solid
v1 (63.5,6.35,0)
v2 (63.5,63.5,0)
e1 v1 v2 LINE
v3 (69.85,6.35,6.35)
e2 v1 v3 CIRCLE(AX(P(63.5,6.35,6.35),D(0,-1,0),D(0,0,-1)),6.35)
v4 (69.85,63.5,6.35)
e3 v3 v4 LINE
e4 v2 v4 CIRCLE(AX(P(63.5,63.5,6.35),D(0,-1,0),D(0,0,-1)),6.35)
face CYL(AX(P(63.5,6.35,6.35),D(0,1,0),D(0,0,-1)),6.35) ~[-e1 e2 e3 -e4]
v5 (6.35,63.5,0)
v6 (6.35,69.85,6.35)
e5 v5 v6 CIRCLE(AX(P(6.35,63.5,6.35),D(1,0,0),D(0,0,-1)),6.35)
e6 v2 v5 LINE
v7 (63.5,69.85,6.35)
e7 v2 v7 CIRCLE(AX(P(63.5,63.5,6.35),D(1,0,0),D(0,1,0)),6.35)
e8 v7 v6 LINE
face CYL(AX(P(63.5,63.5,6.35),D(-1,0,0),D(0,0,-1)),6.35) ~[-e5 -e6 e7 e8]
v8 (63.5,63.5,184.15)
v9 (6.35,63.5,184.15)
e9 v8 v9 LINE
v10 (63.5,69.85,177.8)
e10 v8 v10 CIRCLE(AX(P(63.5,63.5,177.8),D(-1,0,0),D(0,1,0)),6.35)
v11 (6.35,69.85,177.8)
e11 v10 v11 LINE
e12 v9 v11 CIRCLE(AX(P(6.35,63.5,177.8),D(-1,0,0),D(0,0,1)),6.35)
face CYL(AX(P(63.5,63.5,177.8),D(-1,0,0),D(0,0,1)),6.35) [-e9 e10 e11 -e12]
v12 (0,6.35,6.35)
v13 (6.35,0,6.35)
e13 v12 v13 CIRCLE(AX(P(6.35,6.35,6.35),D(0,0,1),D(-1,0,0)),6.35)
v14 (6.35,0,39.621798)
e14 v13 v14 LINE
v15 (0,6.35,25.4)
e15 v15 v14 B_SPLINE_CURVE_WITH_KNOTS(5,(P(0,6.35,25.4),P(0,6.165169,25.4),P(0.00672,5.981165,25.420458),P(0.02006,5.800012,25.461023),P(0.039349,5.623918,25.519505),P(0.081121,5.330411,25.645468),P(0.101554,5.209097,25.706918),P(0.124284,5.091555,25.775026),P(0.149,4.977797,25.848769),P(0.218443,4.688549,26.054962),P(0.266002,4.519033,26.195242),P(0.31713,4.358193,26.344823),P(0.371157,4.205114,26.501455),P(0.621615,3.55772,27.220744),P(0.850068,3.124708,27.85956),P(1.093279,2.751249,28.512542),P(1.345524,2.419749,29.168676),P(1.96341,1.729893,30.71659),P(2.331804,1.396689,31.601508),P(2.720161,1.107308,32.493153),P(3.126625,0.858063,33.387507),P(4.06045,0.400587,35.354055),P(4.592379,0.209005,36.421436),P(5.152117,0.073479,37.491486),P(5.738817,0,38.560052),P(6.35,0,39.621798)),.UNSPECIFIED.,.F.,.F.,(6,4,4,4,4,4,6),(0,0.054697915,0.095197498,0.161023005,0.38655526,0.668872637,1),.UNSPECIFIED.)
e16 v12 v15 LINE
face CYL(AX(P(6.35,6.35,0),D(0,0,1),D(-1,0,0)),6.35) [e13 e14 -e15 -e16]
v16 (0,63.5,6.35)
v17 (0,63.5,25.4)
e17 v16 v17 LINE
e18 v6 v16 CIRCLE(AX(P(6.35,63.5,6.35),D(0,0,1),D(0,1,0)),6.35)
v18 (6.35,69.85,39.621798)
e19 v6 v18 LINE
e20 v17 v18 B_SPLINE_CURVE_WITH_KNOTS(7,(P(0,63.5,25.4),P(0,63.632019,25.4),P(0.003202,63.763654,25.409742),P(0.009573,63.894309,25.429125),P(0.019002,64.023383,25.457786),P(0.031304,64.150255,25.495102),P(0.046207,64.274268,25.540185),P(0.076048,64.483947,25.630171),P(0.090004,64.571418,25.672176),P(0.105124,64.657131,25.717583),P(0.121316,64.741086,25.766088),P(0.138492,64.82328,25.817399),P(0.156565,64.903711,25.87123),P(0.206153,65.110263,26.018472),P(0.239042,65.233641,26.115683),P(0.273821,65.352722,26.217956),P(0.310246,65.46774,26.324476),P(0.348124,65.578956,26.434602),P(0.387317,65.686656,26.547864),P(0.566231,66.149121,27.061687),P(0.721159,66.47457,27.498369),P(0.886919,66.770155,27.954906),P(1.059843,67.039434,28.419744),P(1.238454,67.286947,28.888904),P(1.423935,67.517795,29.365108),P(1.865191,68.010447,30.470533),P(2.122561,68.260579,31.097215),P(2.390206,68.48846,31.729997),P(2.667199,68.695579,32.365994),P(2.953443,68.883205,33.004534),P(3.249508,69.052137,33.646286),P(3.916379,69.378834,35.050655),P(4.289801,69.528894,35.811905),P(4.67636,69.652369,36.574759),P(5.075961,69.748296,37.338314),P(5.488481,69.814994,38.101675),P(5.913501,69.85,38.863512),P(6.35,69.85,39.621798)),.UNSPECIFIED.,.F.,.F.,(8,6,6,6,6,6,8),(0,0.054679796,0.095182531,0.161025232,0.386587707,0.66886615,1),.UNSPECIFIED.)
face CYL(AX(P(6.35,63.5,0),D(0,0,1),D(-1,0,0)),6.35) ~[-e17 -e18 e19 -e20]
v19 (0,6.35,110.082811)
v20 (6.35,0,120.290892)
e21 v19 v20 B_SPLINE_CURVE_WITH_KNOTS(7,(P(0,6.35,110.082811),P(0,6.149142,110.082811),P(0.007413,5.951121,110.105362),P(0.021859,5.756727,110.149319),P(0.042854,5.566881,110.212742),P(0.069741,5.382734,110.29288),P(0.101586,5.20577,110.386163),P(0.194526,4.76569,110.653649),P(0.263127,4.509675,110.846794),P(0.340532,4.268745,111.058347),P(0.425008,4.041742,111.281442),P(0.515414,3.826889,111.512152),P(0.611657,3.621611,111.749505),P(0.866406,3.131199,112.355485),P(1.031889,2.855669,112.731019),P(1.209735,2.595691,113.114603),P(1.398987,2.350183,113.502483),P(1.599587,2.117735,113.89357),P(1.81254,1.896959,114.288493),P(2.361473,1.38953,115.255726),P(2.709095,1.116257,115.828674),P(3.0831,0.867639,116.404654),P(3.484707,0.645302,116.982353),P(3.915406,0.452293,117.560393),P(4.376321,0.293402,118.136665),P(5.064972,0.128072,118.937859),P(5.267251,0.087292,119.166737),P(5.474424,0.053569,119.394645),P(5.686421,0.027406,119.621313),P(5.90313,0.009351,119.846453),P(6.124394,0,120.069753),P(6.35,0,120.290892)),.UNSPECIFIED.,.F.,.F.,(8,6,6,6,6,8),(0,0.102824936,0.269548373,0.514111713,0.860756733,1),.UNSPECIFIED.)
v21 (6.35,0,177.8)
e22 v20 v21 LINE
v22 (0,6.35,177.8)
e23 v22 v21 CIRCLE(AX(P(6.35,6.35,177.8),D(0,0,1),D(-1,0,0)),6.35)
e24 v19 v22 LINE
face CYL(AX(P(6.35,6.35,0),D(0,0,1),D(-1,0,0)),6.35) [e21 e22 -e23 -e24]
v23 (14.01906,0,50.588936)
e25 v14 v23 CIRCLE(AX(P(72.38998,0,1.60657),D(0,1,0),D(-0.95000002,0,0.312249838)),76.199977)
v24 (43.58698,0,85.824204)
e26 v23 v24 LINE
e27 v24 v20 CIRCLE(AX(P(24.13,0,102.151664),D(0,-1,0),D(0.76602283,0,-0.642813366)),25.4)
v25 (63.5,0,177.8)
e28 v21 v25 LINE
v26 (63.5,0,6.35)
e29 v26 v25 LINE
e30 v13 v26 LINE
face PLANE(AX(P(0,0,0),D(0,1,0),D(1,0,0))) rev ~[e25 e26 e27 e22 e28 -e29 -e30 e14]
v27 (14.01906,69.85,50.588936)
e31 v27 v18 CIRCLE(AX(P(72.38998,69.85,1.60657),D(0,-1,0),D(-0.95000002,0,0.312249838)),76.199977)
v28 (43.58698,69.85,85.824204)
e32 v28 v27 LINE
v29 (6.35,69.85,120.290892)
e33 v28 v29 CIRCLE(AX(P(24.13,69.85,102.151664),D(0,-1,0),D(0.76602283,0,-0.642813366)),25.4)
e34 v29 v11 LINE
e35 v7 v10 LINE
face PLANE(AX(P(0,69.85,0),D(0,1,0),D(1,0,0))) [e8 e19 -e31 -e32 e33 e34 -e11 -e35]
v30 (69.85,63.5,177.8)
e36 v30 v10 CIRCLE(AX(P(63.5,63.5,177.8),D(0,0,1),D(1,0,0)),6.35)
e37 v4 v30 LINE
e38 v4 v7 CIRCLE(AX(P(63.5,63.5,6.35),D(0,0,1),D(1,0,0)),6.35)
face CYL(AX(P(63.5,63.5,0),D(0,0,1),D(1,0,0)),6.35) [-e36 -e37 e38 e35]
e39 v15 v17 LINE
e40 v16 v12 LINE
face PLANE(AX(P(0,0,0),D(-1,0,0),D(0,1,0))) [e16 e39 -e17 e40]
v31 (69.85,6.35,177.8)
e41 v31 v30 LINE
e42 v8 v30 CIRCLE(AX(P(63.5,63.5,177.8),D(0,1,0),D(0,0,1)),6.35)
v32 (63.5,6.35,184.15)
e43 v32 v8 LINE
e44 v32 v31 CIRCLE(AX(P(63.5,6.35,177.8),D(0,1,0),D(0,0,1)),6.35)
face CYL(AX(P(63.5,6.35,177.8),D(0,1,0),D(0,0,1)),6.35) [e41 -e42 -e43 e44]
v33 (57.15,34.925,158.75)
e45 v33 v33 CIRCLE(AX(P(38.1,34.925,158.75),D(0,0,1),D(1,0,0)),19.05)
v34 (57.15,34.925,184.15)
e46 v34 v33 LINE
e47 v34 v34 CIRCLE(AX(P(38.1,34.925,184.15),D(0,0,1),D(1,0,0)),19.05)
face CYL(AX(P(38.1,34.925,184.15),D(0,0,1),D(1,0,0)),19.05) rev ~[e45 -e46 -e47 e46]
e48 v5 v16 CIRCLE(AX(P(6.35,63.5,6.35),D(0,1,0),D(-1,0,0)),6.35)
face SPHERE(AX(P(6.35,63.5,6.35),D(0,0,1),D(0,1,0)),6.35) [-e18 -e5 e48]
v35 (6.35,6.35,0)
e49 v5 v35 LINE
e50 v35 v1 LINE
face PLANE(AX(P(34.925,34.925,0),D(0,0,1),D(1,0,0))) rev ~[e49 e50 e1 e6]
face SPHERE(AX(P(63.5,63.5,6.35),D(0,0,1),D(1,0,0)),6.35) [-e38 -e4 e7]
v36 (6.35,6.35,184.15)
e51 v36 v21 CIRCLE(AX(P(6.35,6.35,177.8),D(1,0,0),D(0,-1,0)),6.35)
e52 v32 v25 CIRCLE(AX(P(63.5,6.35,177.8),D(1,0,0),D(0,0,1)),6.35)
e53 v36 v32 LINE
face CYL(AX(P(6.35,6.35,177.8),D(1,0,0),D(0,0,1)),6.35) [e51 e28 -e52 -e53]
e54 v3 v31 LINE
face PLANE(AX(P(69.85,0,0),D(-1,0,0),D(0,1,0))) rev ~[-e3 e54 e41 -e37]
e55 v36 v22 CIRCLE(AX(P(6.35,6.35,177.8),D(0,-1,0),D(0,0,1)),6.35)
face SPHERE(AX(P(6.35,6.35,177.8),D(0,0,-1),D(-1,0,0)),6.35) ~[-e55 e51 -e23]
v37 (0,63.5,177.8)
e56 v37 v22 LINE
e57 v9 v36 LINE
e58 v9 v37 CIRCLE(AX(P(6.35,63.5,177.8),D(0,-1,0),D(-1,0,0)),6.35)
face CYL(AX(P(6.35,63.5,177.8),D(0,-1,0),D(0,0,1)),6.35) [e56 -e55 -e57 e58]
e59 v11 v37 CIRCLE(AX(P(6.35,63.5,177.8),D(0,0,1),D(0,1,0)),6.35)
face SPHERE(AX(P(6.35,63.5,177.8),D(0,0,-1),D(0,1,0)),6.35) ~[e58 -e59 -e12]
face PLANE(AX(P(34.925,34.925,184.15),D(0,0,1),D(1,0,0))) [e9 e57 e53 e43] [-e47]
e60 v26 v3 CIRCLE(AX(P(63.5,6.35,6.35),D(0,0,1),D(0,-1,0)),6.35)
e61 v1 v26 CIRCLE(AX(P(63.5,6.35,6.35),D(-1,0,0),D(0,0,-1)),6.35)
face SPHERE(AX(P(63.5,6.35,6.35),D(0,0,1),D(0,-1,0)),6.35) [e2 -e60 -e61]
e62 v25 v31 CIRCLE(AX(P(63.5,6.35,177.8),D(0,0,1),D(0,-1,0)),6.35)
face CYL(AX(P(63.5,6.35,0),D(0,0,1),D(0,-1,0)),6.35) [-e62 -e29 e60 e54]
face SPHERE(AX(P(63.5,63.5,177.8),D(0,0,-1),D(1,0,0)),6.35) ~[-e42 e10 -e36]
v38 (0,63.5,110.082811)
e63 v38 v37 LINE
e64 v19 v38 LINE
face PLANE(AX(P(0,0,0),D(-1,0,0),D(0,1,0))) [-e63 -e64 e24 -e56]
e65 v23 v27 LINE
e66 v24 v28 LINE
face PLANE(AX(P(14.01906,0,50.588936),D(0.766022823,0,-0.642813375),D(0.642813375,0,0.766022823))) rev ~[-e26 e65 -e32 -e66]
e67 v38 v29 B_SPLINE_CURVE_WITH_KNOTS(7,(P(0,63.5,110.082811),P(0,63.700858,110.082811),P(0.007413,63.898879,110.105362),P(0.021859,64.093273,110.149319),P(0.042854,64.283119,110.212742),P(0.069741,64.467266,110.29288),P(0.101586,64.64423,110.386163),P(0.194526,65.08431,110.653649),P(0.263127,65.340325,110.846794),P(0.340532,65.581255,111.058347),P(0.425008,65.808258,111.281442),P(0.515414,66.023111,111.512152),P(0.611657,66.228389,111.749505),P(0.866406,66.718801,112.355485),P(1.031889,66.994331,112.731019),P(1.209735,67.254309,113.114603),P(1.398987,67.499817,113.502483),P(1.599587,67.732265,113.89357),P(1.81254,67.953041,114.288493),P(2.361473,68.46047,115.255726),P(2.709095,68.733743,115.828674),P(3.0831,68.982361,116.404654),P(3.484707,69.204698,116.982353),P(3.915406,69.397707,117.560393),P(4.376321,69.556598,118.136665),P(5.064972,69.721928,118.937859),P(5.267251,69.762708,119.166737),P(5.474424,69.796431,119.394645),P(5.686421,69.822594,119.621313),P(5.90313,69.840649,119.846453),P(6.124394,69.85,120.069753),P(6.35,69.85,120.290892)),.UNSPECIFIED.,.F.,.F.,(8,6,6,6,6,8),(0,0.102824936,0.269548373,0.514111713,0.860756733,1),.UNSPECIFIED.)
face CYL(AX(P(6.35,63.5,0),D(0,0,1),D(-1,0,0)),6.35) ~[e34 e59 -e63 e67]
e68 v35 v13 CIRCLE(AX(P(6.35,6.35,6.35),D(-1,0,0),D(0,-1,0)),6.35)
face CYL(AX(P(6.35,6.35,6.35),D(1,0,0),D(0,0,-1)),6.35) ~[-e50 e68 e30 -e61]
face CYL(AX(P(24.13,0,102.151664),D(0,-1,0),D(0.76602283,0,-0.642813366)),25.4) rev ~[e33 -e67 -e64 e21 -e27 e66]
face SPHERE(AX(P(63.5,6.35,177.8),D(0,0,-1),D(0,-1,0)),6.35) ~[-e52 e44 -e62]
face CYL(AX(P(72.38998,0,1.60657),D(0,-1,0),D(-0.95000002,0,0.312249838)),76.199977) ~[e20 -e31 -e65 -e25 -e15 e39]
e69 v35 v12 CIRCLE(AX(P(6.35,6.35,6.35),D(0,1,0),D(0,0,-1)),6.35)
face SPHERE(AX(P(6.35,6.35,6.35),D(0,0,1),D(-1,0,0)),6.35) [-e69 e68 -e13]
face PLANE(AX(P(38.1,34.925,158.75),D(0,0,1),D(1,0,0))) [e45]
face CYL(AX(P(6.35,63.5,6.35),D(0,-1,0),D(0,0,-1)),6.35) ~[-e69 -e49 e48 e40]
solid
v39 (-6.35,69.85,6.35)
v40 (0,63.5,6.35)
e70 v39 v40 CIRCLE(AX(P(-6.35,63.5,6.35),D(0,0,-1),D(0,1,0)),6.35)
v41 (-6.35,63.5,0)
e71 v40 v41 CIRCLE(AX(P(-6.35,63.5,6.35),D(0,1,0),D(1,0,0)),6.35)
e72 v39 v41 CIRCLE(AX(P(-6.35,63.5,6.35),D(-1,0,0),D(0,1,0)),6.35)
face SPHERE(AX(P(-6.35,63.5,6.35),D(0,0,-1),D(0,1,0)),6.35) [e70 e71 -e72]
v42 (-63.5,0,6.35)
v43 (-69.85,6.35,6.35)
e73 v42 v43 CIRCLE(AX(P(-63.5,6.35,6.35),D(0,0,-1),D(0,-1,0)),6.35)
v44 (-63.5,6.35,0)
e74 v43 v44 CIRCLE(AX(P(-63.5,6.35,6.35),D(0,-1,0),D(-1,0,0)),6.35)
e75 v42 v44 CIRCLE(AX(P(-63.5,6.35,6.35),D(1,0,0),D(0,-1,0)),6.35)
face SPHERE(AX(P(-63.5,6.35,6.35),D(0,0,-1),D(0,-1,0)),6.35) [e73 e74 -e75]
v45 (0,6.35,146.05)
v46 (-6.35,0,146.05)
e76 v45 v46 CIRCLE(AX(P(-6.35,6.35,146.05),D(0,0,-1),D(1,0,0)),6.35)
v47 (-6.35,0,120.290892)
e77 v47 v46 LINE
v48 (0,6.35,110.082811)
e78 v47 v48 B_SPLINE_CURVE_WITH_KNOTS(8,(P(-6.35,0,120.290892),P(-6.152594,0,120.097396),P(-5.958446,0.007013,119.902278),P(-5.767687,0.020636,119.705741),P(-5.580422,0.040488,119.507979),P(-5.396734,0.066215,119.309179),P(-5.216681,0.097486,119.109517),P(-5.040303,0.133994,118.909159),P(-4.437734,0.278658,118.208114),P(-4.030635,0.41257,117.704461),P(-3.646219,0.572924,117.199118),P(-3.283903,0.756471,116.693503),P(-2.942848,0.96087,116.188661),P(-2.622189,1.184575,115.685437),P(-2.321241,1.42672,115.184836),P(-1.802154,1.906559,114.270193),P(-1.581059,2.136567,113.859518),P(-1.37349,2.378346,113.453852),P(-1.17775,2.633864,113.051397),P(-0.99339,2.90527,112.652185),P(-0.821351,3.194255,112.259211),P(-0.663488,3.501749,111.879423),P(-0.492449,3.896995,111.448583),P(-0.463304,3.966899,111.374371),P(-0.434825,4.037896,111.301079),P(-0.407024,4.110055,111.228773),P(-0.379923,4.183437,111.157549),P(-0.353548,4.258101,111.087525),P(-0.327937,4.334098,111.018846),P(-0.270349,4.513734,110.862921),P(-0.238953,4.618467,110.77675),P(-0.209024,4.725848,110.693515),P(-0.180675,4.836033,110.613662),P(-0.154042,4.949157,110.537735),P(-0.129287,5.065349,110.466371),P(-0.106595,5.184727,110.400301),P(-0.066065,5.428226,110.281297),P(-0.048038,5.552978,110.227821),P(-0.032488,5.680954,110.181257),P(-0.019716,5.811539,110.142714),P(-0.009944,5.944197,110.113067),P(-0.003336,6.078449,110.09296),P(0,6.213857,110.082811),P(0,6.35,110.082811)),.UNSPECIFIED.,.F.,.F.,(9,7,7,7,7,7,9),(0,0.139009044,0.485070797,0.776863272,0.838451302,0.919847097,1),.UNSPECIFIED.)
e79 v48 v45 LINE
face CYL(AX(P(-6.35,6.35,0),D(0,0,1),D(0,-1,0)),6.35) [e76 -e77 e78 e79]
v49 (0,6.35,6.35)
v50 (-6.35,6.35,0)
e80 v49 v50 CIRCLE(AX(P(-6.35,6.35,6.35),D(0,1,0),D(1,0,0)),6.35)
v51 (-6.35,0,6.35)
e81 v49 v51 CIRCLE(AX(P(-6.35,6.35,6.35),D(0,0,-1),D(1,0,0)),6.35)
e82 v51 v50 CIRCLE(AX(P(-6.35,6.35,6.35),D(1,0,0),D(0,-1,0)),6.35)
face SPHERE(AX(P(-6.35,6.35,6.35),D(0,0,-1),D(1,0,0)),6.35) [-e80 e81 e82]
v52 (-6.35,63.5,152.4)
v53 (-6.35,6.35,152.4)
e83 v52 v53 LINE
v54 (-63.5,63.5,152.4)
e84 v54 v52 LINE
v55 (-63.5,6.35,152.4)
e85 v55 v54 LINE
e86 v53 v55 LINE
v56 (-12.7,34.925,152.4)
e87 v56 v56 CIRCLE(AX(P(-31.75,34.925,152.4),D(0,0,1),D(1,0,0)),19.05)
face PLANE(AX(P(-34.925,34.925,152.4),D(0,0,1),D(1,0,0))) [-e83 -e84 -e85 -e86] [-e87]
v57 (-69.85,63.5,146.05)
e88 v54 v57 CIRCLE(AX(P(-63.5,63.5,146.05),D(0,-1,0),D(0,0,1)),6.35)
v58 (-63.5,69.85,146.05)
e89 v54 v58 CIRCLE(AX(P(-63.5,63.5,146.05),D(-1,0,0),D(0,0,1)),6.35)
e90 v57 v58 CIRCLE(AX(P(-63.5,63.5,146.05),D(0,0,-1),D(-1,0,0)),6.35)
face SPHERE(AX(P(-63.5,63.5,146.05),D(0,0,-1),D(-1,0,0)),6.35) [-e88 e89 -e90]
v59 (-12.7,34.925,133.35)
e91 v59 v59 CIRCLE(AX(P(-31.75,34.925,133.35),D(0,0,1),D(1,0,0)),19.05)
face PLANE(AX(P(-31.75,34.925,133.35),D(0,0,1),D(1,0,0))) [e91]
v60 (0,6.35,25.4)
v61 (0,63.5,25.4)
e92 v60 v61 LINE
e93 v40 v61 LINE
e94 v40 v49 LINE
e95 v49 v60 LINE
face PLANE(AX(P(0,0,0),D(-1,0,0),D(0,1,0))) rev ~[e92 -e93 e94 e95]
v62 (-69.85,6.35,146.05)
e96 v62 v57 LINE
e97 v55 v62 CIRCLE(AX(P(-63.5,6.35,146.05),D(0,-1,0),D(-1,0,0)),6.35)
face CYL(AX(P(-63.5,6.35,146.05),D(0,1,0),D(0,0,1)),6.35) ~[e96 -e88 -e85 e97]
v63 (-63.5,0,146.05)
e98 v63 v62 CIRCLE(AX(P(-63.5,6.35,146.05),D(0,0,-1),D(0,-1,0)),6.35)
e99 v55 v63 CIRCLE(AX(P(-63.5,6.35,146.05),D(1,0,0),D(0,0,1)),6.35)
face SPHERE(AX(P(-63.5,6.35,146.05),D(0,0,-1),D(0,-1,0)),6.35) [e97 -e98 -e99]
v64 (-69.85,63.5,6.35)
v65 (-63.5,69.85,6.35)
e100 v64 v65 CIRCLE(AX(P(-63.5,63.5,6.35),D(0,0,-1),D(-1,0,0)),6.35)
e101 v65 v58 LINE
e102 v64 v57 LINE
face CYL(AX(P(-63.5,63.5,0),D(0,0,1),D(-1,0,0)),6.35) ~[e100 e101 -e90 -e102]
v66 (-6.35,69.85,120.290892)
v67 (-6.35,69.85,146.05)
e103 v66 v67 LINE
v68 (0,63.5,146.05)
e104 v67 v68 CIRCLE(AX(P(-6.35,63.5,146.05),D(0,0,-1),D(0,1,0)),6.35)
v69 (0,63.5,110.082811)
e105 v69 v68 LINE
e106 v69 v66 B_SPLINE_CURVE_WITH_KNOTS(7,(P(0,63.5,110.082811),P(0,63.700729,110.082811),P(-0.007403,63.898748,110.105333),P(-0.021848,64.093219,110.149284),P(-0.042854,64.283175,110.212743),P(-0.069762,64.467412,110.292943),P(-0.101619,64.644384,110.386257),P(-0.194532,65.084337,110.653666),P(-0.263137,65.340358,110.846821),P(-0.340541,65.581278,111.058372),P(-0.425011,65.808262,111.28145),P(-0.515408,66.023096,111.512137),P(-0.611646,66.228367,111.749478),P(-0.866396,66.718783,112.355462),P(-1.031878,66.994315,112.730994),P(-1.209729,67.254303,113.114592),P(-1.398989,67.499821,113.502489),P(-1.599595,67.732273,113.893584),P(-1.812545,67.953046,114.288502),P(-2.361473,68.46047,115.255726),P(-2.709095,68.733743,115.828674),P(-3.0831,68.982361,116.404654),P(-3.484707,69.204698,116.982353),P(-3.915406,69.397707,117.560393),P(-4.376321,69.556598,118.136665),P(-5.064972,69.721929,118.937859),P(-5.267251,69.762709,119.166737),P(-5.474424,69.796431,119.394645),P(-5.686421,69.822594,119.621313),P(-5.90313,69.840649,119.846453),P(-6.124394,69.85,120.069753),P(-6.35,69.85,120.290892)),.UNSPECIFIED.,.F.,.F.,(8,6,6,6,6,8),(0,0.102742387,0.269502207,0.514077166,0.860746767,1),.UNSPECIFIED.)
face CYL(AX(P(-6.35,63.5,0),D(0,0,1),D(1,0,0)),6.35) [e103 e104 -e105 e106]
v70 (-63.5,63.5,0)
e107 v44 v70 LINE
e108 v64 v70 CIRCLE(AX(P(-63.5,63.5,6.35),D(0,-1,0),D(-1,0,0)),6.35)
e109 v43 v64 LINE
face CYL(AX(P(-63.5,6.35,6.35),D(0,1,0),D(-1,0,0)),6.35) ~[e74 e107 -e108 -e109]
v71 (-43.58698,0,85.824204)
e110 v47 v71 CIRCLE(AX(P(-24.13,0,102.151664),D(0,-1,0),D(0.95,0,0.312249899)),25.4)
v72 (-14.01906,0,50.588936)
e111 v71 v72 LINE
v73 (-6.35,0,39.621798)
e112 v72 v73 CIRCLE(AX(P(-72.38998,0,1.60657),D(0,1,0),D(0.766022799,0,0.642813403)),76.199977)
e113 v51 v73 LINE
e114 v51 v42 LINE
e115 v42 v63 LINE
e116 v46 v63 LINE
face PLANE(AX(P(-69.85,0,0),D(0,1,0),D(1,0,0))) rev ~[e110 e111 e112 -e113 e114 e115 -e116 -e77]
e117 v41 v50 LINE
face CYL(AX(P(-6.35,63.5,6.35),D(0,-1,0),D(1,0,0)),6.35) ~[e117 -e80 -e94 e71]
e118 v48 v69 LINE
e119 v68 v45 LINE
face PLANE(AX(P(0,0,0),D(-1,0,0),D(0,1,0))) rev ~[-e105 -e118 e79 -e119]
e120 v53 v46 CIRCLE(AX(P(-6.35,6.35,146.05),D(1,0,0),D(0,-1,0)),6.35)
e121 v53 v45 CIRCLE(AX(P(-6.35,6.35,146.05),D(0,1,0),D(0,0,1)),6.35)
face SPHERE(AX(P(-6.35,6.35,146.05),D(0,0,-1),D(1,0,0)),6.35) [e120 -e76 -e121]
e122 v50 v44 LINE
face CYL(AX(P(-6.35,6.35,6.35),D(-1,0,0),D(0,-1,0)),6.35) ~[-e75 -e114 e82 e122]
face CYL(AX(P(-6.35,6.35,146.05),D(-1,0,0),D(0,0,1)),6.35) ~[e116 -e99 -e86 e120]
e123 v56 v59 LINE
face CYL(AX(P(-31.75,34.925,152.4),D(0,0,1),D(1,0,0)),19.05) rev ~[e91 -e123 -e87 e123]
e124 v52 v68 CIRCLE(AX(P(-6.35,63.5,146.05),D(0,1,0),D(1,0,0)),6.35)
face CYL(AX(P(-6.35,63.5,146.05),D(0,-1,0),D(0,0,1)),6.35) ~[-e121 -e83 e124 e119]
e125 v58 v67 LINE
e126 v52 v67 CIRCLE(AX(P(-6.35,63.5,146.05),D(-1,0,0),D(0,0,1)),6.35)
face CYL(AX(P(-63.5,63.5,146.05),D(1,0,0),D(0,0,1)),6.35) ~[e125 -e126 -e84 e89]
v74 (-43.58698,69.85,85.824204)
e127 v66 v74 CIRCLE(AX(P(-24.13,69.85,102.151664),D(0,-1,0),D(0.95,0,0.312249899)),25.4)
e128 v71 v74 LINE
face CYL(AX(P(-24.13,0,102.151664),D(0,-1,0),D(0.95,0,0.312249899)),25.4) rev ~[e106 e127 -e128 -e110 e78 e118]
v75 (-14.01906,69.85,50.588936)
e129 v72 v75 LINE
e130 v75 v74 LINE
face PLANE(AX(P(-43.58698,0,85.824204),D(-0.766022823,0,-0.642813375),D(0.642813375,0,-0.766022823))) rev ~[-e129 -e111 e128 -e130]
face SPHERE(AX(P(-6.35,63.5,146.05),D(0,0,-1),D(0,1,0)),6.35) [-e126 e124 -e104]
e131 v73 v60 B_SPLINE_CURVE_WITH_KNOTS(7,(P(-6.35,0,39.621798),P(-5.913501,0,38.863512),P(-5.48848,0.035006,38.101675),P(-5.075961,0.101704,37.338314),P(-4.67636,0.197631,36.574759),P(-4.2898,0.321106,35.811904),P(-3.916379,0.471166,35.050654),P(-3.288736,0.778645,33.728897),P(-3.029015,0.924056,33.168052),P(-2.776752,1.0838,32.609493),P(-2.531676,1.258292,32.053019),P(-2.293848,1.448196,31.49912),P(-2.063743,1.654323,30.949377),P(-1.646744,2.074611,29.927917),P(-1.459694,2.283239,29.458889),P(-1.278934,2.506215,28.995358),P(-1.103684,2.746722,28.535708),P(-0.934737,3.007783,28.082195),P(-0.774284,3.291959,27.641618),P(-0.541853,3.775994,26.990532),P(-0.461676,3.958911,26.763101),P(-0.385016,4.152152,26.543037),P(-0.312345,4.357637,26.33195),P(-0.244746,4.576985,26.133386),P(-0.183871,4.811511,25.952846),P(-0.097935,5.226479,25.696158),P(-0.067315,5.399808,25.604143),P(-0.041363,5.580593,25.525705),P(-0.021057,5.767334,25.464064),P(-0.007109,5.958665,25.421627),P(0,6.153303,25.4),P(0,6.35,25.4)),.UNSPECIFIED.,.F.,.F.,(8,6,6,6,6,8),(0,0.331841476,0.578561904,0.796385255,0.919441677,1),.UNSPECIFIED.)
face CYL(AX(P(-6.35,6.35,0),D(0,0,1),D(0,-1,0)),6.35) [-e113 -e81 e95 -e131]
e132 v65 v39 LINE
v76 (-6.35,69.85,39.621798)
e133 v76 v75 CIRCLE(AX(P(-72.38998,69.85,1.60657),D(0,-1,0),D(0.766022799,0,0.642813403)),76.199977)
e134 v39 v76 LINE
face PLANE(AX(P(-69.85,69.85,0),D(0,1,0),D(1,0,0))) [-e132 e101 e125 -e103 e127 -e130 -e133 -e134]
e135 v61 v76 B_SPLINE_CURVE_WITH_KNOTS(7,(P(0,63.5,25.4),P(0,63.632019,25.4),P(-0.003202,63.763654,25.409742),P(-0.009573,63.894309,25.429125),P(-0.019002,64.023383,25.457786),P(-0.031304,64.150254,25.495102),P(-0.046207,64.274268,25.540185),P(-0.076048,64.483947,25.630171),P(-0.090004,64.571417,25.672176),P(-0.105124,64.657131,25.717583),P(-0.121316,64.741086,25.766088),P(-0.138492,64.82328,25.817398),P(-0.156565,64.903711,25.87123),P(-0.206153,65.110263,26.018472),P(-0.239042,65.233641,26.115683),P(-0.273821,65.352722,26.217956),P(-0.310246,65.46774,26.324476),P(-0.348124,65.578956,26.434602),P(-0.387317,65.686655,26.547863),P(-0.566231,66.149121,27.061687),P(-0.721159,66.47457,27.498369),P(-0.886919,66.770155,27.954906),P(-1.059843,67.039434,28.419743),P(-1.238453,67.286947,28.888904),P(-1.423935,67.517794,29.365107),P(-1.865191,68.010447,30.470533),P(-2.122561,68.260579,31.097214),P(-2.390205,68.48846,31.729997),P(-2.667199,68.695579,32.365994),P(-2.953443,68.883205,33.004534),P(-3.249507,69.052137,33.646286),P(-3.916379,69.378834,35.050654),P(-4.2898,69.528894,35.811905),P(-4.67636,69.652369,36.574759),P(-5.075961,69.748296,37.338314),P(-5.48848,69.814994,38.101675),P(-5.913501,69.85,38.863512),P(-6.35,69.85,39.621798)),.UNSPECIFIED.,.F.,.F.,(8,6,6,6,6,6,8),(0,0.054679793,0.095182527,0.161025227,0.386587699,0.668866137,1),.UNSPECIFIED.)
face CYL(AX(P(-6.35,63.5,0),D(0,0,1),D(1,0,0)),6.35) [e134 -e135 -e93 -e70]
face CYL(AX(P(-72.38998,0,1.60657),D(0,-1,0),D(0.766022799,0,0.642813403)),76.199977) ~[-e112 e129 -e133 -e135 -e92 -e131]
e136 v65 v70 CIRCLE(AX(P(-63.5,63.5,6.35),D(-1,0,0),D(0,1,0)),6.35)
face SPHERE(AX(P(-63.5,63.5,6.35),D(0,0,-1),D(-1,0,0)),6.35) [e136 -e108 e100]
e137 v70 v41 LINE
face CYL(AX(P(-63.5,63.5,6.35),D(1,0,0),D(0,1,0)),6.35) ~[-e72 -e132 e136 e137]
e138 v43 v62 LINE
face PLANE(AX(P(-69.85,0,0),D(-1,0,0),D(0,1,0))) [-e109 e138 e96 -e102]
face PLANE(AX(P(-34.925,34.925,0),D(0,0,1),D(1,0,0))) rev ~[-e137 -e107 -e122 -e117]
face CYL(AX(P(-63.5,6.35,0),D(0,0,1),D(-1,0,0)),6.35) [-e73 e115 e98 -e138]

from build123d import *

# Parameters (mm, degrees)
F0_W      = 69.85
F0_H      = 69.85
F1_DEPTH  = 184.15
F2_R      = 6.35
F3_R      = 6.35
F4_W      = 69.85
F4_H      = 69.85
F5_DEPTH  = 152.4
F6_R      = 6.35
F7_R      = 6.35
F8_R      = 19.05
F9_DEPTH  = 25.4
F11_DEPTH = 76.2
F12_R     = 19.05
F13_DEPTH = 19.05


with BuildPart() as f1:
    # F0 (on Top) → F1 (new body)
    with BuildSketch(Plane.XY):
        with Locations((34.925, 34.925)):
            Rectangle(F0_W, F0_H)
    extrude(amount=F1_DEPTH)

    # F2
    f2_edges = [f1.edges().sort_by_distance(p)[0] for p in [
        (0, 69.85, 92.075),
        (0, 0, 92.075),
        (69.85, 0, 92.075),
        (69.85, 69.85, 92.075),
    ]]
    fillet(f2_edges, radius=F2_R)

    # F3
    f3_edges = [f1.edges().sort_by_distance(p)[0] for p in [
        (69.85, 34.925, 184.15),
        (69.85, 34.925, 0),
        (69.85, 6.35, 92.075),
        (69.85, 63.5, 92.075),
    ]]
    fillet(f3_edges, radius=F3_R)

    # F8 (on face) → F9 (cut)
    with BuildSketch(Plane.XY.offset(184.15)):
        with Locations((38.1, 34.925)):
            Circle(F8_R)
    extrude(amount=-F9_DEPTH, mode=Mode.SUBTRACT)


with BuildPart() as f5:
    # F4 (on Top) → F5 (new body)
    with BuildSketch(Plane.XY):
        with Locations((-34.925, 34.925)):
            Rectangle(F4_W, F4_H)
    extrude(amount=F5_DEPTH)

    # F6
    f6_edges = [f5.edges().sort_by_distance(p)[0] for p in [
        (0, 0, 76.2),
        (-69.85, 0, 76.2),
        (-69.85, 69.85, 76.2),
        (0, 69.85, 76.2),
    ]]
    fillet(f6_edges, radius=F6_R)

    # F7
    f7_edges = [f5.edges().sort_by_distance(p)[0] for p in [
        (-34.925, 69.85, 152.4),
        (-69.85, 34.925, 0),
        (-69.85, 63.5, 76.2),
        (-69.85, 6.35, 76.2),
        (-69.85, 34.925, 152.4),
    ]]
    fillet(f7_edges, radius=F7_R)


with BuildPart() as f11_tool:
    # F10 (on face) → F11 (new body)
    with BuildSketch(Plane.XZ):
        with BuildLine():
            Line((14.01906, 50.588936), (43.58698, 85.824204))
            ThreePointArc((43.58698, 85.824204), (36.482299, 124.345823), (0, 110.082811))
            ThreePointArc((0, 110.082811), (-36.482299, 124.345823), (-43.58698, 85.824204))
            Line((-43.58698, 85.824204), (-14.01906, 50.588936))
            ThreePointArc((-14.01906, 50.588936), (-5.807521, 38.663454), (0, 25.4))
            ThreePointArc((0, 25.4), (5.807521, 38.663454), (14.01906, 50.588936))
        make_face()
    extrude(amount=-F11_DEPTH)


with BuildPart() as f1_1:
    add(f1.part)

    # F11: cut by f11_tool
    add(f11_tool.part, mode=Mode.SUBTRACT)


with BuildPart() as f5_1:
    add(f5.part)

    # F11: cut by f11_tool
    add(f11_tool.part, mode=Mode.SUBTRACT)

    # F12 (on face) → F13 (cut)
    with BuildSketch(Plane.XY.offset(152.4)):
        with Locations((-31.75, 34.925)):
            Circle(F12_R)
    extrude(amount=-F13_DEPTH, mode=Mode.SUBTRACT)


solid = Compound([f1_1.part, f5_1.part])
